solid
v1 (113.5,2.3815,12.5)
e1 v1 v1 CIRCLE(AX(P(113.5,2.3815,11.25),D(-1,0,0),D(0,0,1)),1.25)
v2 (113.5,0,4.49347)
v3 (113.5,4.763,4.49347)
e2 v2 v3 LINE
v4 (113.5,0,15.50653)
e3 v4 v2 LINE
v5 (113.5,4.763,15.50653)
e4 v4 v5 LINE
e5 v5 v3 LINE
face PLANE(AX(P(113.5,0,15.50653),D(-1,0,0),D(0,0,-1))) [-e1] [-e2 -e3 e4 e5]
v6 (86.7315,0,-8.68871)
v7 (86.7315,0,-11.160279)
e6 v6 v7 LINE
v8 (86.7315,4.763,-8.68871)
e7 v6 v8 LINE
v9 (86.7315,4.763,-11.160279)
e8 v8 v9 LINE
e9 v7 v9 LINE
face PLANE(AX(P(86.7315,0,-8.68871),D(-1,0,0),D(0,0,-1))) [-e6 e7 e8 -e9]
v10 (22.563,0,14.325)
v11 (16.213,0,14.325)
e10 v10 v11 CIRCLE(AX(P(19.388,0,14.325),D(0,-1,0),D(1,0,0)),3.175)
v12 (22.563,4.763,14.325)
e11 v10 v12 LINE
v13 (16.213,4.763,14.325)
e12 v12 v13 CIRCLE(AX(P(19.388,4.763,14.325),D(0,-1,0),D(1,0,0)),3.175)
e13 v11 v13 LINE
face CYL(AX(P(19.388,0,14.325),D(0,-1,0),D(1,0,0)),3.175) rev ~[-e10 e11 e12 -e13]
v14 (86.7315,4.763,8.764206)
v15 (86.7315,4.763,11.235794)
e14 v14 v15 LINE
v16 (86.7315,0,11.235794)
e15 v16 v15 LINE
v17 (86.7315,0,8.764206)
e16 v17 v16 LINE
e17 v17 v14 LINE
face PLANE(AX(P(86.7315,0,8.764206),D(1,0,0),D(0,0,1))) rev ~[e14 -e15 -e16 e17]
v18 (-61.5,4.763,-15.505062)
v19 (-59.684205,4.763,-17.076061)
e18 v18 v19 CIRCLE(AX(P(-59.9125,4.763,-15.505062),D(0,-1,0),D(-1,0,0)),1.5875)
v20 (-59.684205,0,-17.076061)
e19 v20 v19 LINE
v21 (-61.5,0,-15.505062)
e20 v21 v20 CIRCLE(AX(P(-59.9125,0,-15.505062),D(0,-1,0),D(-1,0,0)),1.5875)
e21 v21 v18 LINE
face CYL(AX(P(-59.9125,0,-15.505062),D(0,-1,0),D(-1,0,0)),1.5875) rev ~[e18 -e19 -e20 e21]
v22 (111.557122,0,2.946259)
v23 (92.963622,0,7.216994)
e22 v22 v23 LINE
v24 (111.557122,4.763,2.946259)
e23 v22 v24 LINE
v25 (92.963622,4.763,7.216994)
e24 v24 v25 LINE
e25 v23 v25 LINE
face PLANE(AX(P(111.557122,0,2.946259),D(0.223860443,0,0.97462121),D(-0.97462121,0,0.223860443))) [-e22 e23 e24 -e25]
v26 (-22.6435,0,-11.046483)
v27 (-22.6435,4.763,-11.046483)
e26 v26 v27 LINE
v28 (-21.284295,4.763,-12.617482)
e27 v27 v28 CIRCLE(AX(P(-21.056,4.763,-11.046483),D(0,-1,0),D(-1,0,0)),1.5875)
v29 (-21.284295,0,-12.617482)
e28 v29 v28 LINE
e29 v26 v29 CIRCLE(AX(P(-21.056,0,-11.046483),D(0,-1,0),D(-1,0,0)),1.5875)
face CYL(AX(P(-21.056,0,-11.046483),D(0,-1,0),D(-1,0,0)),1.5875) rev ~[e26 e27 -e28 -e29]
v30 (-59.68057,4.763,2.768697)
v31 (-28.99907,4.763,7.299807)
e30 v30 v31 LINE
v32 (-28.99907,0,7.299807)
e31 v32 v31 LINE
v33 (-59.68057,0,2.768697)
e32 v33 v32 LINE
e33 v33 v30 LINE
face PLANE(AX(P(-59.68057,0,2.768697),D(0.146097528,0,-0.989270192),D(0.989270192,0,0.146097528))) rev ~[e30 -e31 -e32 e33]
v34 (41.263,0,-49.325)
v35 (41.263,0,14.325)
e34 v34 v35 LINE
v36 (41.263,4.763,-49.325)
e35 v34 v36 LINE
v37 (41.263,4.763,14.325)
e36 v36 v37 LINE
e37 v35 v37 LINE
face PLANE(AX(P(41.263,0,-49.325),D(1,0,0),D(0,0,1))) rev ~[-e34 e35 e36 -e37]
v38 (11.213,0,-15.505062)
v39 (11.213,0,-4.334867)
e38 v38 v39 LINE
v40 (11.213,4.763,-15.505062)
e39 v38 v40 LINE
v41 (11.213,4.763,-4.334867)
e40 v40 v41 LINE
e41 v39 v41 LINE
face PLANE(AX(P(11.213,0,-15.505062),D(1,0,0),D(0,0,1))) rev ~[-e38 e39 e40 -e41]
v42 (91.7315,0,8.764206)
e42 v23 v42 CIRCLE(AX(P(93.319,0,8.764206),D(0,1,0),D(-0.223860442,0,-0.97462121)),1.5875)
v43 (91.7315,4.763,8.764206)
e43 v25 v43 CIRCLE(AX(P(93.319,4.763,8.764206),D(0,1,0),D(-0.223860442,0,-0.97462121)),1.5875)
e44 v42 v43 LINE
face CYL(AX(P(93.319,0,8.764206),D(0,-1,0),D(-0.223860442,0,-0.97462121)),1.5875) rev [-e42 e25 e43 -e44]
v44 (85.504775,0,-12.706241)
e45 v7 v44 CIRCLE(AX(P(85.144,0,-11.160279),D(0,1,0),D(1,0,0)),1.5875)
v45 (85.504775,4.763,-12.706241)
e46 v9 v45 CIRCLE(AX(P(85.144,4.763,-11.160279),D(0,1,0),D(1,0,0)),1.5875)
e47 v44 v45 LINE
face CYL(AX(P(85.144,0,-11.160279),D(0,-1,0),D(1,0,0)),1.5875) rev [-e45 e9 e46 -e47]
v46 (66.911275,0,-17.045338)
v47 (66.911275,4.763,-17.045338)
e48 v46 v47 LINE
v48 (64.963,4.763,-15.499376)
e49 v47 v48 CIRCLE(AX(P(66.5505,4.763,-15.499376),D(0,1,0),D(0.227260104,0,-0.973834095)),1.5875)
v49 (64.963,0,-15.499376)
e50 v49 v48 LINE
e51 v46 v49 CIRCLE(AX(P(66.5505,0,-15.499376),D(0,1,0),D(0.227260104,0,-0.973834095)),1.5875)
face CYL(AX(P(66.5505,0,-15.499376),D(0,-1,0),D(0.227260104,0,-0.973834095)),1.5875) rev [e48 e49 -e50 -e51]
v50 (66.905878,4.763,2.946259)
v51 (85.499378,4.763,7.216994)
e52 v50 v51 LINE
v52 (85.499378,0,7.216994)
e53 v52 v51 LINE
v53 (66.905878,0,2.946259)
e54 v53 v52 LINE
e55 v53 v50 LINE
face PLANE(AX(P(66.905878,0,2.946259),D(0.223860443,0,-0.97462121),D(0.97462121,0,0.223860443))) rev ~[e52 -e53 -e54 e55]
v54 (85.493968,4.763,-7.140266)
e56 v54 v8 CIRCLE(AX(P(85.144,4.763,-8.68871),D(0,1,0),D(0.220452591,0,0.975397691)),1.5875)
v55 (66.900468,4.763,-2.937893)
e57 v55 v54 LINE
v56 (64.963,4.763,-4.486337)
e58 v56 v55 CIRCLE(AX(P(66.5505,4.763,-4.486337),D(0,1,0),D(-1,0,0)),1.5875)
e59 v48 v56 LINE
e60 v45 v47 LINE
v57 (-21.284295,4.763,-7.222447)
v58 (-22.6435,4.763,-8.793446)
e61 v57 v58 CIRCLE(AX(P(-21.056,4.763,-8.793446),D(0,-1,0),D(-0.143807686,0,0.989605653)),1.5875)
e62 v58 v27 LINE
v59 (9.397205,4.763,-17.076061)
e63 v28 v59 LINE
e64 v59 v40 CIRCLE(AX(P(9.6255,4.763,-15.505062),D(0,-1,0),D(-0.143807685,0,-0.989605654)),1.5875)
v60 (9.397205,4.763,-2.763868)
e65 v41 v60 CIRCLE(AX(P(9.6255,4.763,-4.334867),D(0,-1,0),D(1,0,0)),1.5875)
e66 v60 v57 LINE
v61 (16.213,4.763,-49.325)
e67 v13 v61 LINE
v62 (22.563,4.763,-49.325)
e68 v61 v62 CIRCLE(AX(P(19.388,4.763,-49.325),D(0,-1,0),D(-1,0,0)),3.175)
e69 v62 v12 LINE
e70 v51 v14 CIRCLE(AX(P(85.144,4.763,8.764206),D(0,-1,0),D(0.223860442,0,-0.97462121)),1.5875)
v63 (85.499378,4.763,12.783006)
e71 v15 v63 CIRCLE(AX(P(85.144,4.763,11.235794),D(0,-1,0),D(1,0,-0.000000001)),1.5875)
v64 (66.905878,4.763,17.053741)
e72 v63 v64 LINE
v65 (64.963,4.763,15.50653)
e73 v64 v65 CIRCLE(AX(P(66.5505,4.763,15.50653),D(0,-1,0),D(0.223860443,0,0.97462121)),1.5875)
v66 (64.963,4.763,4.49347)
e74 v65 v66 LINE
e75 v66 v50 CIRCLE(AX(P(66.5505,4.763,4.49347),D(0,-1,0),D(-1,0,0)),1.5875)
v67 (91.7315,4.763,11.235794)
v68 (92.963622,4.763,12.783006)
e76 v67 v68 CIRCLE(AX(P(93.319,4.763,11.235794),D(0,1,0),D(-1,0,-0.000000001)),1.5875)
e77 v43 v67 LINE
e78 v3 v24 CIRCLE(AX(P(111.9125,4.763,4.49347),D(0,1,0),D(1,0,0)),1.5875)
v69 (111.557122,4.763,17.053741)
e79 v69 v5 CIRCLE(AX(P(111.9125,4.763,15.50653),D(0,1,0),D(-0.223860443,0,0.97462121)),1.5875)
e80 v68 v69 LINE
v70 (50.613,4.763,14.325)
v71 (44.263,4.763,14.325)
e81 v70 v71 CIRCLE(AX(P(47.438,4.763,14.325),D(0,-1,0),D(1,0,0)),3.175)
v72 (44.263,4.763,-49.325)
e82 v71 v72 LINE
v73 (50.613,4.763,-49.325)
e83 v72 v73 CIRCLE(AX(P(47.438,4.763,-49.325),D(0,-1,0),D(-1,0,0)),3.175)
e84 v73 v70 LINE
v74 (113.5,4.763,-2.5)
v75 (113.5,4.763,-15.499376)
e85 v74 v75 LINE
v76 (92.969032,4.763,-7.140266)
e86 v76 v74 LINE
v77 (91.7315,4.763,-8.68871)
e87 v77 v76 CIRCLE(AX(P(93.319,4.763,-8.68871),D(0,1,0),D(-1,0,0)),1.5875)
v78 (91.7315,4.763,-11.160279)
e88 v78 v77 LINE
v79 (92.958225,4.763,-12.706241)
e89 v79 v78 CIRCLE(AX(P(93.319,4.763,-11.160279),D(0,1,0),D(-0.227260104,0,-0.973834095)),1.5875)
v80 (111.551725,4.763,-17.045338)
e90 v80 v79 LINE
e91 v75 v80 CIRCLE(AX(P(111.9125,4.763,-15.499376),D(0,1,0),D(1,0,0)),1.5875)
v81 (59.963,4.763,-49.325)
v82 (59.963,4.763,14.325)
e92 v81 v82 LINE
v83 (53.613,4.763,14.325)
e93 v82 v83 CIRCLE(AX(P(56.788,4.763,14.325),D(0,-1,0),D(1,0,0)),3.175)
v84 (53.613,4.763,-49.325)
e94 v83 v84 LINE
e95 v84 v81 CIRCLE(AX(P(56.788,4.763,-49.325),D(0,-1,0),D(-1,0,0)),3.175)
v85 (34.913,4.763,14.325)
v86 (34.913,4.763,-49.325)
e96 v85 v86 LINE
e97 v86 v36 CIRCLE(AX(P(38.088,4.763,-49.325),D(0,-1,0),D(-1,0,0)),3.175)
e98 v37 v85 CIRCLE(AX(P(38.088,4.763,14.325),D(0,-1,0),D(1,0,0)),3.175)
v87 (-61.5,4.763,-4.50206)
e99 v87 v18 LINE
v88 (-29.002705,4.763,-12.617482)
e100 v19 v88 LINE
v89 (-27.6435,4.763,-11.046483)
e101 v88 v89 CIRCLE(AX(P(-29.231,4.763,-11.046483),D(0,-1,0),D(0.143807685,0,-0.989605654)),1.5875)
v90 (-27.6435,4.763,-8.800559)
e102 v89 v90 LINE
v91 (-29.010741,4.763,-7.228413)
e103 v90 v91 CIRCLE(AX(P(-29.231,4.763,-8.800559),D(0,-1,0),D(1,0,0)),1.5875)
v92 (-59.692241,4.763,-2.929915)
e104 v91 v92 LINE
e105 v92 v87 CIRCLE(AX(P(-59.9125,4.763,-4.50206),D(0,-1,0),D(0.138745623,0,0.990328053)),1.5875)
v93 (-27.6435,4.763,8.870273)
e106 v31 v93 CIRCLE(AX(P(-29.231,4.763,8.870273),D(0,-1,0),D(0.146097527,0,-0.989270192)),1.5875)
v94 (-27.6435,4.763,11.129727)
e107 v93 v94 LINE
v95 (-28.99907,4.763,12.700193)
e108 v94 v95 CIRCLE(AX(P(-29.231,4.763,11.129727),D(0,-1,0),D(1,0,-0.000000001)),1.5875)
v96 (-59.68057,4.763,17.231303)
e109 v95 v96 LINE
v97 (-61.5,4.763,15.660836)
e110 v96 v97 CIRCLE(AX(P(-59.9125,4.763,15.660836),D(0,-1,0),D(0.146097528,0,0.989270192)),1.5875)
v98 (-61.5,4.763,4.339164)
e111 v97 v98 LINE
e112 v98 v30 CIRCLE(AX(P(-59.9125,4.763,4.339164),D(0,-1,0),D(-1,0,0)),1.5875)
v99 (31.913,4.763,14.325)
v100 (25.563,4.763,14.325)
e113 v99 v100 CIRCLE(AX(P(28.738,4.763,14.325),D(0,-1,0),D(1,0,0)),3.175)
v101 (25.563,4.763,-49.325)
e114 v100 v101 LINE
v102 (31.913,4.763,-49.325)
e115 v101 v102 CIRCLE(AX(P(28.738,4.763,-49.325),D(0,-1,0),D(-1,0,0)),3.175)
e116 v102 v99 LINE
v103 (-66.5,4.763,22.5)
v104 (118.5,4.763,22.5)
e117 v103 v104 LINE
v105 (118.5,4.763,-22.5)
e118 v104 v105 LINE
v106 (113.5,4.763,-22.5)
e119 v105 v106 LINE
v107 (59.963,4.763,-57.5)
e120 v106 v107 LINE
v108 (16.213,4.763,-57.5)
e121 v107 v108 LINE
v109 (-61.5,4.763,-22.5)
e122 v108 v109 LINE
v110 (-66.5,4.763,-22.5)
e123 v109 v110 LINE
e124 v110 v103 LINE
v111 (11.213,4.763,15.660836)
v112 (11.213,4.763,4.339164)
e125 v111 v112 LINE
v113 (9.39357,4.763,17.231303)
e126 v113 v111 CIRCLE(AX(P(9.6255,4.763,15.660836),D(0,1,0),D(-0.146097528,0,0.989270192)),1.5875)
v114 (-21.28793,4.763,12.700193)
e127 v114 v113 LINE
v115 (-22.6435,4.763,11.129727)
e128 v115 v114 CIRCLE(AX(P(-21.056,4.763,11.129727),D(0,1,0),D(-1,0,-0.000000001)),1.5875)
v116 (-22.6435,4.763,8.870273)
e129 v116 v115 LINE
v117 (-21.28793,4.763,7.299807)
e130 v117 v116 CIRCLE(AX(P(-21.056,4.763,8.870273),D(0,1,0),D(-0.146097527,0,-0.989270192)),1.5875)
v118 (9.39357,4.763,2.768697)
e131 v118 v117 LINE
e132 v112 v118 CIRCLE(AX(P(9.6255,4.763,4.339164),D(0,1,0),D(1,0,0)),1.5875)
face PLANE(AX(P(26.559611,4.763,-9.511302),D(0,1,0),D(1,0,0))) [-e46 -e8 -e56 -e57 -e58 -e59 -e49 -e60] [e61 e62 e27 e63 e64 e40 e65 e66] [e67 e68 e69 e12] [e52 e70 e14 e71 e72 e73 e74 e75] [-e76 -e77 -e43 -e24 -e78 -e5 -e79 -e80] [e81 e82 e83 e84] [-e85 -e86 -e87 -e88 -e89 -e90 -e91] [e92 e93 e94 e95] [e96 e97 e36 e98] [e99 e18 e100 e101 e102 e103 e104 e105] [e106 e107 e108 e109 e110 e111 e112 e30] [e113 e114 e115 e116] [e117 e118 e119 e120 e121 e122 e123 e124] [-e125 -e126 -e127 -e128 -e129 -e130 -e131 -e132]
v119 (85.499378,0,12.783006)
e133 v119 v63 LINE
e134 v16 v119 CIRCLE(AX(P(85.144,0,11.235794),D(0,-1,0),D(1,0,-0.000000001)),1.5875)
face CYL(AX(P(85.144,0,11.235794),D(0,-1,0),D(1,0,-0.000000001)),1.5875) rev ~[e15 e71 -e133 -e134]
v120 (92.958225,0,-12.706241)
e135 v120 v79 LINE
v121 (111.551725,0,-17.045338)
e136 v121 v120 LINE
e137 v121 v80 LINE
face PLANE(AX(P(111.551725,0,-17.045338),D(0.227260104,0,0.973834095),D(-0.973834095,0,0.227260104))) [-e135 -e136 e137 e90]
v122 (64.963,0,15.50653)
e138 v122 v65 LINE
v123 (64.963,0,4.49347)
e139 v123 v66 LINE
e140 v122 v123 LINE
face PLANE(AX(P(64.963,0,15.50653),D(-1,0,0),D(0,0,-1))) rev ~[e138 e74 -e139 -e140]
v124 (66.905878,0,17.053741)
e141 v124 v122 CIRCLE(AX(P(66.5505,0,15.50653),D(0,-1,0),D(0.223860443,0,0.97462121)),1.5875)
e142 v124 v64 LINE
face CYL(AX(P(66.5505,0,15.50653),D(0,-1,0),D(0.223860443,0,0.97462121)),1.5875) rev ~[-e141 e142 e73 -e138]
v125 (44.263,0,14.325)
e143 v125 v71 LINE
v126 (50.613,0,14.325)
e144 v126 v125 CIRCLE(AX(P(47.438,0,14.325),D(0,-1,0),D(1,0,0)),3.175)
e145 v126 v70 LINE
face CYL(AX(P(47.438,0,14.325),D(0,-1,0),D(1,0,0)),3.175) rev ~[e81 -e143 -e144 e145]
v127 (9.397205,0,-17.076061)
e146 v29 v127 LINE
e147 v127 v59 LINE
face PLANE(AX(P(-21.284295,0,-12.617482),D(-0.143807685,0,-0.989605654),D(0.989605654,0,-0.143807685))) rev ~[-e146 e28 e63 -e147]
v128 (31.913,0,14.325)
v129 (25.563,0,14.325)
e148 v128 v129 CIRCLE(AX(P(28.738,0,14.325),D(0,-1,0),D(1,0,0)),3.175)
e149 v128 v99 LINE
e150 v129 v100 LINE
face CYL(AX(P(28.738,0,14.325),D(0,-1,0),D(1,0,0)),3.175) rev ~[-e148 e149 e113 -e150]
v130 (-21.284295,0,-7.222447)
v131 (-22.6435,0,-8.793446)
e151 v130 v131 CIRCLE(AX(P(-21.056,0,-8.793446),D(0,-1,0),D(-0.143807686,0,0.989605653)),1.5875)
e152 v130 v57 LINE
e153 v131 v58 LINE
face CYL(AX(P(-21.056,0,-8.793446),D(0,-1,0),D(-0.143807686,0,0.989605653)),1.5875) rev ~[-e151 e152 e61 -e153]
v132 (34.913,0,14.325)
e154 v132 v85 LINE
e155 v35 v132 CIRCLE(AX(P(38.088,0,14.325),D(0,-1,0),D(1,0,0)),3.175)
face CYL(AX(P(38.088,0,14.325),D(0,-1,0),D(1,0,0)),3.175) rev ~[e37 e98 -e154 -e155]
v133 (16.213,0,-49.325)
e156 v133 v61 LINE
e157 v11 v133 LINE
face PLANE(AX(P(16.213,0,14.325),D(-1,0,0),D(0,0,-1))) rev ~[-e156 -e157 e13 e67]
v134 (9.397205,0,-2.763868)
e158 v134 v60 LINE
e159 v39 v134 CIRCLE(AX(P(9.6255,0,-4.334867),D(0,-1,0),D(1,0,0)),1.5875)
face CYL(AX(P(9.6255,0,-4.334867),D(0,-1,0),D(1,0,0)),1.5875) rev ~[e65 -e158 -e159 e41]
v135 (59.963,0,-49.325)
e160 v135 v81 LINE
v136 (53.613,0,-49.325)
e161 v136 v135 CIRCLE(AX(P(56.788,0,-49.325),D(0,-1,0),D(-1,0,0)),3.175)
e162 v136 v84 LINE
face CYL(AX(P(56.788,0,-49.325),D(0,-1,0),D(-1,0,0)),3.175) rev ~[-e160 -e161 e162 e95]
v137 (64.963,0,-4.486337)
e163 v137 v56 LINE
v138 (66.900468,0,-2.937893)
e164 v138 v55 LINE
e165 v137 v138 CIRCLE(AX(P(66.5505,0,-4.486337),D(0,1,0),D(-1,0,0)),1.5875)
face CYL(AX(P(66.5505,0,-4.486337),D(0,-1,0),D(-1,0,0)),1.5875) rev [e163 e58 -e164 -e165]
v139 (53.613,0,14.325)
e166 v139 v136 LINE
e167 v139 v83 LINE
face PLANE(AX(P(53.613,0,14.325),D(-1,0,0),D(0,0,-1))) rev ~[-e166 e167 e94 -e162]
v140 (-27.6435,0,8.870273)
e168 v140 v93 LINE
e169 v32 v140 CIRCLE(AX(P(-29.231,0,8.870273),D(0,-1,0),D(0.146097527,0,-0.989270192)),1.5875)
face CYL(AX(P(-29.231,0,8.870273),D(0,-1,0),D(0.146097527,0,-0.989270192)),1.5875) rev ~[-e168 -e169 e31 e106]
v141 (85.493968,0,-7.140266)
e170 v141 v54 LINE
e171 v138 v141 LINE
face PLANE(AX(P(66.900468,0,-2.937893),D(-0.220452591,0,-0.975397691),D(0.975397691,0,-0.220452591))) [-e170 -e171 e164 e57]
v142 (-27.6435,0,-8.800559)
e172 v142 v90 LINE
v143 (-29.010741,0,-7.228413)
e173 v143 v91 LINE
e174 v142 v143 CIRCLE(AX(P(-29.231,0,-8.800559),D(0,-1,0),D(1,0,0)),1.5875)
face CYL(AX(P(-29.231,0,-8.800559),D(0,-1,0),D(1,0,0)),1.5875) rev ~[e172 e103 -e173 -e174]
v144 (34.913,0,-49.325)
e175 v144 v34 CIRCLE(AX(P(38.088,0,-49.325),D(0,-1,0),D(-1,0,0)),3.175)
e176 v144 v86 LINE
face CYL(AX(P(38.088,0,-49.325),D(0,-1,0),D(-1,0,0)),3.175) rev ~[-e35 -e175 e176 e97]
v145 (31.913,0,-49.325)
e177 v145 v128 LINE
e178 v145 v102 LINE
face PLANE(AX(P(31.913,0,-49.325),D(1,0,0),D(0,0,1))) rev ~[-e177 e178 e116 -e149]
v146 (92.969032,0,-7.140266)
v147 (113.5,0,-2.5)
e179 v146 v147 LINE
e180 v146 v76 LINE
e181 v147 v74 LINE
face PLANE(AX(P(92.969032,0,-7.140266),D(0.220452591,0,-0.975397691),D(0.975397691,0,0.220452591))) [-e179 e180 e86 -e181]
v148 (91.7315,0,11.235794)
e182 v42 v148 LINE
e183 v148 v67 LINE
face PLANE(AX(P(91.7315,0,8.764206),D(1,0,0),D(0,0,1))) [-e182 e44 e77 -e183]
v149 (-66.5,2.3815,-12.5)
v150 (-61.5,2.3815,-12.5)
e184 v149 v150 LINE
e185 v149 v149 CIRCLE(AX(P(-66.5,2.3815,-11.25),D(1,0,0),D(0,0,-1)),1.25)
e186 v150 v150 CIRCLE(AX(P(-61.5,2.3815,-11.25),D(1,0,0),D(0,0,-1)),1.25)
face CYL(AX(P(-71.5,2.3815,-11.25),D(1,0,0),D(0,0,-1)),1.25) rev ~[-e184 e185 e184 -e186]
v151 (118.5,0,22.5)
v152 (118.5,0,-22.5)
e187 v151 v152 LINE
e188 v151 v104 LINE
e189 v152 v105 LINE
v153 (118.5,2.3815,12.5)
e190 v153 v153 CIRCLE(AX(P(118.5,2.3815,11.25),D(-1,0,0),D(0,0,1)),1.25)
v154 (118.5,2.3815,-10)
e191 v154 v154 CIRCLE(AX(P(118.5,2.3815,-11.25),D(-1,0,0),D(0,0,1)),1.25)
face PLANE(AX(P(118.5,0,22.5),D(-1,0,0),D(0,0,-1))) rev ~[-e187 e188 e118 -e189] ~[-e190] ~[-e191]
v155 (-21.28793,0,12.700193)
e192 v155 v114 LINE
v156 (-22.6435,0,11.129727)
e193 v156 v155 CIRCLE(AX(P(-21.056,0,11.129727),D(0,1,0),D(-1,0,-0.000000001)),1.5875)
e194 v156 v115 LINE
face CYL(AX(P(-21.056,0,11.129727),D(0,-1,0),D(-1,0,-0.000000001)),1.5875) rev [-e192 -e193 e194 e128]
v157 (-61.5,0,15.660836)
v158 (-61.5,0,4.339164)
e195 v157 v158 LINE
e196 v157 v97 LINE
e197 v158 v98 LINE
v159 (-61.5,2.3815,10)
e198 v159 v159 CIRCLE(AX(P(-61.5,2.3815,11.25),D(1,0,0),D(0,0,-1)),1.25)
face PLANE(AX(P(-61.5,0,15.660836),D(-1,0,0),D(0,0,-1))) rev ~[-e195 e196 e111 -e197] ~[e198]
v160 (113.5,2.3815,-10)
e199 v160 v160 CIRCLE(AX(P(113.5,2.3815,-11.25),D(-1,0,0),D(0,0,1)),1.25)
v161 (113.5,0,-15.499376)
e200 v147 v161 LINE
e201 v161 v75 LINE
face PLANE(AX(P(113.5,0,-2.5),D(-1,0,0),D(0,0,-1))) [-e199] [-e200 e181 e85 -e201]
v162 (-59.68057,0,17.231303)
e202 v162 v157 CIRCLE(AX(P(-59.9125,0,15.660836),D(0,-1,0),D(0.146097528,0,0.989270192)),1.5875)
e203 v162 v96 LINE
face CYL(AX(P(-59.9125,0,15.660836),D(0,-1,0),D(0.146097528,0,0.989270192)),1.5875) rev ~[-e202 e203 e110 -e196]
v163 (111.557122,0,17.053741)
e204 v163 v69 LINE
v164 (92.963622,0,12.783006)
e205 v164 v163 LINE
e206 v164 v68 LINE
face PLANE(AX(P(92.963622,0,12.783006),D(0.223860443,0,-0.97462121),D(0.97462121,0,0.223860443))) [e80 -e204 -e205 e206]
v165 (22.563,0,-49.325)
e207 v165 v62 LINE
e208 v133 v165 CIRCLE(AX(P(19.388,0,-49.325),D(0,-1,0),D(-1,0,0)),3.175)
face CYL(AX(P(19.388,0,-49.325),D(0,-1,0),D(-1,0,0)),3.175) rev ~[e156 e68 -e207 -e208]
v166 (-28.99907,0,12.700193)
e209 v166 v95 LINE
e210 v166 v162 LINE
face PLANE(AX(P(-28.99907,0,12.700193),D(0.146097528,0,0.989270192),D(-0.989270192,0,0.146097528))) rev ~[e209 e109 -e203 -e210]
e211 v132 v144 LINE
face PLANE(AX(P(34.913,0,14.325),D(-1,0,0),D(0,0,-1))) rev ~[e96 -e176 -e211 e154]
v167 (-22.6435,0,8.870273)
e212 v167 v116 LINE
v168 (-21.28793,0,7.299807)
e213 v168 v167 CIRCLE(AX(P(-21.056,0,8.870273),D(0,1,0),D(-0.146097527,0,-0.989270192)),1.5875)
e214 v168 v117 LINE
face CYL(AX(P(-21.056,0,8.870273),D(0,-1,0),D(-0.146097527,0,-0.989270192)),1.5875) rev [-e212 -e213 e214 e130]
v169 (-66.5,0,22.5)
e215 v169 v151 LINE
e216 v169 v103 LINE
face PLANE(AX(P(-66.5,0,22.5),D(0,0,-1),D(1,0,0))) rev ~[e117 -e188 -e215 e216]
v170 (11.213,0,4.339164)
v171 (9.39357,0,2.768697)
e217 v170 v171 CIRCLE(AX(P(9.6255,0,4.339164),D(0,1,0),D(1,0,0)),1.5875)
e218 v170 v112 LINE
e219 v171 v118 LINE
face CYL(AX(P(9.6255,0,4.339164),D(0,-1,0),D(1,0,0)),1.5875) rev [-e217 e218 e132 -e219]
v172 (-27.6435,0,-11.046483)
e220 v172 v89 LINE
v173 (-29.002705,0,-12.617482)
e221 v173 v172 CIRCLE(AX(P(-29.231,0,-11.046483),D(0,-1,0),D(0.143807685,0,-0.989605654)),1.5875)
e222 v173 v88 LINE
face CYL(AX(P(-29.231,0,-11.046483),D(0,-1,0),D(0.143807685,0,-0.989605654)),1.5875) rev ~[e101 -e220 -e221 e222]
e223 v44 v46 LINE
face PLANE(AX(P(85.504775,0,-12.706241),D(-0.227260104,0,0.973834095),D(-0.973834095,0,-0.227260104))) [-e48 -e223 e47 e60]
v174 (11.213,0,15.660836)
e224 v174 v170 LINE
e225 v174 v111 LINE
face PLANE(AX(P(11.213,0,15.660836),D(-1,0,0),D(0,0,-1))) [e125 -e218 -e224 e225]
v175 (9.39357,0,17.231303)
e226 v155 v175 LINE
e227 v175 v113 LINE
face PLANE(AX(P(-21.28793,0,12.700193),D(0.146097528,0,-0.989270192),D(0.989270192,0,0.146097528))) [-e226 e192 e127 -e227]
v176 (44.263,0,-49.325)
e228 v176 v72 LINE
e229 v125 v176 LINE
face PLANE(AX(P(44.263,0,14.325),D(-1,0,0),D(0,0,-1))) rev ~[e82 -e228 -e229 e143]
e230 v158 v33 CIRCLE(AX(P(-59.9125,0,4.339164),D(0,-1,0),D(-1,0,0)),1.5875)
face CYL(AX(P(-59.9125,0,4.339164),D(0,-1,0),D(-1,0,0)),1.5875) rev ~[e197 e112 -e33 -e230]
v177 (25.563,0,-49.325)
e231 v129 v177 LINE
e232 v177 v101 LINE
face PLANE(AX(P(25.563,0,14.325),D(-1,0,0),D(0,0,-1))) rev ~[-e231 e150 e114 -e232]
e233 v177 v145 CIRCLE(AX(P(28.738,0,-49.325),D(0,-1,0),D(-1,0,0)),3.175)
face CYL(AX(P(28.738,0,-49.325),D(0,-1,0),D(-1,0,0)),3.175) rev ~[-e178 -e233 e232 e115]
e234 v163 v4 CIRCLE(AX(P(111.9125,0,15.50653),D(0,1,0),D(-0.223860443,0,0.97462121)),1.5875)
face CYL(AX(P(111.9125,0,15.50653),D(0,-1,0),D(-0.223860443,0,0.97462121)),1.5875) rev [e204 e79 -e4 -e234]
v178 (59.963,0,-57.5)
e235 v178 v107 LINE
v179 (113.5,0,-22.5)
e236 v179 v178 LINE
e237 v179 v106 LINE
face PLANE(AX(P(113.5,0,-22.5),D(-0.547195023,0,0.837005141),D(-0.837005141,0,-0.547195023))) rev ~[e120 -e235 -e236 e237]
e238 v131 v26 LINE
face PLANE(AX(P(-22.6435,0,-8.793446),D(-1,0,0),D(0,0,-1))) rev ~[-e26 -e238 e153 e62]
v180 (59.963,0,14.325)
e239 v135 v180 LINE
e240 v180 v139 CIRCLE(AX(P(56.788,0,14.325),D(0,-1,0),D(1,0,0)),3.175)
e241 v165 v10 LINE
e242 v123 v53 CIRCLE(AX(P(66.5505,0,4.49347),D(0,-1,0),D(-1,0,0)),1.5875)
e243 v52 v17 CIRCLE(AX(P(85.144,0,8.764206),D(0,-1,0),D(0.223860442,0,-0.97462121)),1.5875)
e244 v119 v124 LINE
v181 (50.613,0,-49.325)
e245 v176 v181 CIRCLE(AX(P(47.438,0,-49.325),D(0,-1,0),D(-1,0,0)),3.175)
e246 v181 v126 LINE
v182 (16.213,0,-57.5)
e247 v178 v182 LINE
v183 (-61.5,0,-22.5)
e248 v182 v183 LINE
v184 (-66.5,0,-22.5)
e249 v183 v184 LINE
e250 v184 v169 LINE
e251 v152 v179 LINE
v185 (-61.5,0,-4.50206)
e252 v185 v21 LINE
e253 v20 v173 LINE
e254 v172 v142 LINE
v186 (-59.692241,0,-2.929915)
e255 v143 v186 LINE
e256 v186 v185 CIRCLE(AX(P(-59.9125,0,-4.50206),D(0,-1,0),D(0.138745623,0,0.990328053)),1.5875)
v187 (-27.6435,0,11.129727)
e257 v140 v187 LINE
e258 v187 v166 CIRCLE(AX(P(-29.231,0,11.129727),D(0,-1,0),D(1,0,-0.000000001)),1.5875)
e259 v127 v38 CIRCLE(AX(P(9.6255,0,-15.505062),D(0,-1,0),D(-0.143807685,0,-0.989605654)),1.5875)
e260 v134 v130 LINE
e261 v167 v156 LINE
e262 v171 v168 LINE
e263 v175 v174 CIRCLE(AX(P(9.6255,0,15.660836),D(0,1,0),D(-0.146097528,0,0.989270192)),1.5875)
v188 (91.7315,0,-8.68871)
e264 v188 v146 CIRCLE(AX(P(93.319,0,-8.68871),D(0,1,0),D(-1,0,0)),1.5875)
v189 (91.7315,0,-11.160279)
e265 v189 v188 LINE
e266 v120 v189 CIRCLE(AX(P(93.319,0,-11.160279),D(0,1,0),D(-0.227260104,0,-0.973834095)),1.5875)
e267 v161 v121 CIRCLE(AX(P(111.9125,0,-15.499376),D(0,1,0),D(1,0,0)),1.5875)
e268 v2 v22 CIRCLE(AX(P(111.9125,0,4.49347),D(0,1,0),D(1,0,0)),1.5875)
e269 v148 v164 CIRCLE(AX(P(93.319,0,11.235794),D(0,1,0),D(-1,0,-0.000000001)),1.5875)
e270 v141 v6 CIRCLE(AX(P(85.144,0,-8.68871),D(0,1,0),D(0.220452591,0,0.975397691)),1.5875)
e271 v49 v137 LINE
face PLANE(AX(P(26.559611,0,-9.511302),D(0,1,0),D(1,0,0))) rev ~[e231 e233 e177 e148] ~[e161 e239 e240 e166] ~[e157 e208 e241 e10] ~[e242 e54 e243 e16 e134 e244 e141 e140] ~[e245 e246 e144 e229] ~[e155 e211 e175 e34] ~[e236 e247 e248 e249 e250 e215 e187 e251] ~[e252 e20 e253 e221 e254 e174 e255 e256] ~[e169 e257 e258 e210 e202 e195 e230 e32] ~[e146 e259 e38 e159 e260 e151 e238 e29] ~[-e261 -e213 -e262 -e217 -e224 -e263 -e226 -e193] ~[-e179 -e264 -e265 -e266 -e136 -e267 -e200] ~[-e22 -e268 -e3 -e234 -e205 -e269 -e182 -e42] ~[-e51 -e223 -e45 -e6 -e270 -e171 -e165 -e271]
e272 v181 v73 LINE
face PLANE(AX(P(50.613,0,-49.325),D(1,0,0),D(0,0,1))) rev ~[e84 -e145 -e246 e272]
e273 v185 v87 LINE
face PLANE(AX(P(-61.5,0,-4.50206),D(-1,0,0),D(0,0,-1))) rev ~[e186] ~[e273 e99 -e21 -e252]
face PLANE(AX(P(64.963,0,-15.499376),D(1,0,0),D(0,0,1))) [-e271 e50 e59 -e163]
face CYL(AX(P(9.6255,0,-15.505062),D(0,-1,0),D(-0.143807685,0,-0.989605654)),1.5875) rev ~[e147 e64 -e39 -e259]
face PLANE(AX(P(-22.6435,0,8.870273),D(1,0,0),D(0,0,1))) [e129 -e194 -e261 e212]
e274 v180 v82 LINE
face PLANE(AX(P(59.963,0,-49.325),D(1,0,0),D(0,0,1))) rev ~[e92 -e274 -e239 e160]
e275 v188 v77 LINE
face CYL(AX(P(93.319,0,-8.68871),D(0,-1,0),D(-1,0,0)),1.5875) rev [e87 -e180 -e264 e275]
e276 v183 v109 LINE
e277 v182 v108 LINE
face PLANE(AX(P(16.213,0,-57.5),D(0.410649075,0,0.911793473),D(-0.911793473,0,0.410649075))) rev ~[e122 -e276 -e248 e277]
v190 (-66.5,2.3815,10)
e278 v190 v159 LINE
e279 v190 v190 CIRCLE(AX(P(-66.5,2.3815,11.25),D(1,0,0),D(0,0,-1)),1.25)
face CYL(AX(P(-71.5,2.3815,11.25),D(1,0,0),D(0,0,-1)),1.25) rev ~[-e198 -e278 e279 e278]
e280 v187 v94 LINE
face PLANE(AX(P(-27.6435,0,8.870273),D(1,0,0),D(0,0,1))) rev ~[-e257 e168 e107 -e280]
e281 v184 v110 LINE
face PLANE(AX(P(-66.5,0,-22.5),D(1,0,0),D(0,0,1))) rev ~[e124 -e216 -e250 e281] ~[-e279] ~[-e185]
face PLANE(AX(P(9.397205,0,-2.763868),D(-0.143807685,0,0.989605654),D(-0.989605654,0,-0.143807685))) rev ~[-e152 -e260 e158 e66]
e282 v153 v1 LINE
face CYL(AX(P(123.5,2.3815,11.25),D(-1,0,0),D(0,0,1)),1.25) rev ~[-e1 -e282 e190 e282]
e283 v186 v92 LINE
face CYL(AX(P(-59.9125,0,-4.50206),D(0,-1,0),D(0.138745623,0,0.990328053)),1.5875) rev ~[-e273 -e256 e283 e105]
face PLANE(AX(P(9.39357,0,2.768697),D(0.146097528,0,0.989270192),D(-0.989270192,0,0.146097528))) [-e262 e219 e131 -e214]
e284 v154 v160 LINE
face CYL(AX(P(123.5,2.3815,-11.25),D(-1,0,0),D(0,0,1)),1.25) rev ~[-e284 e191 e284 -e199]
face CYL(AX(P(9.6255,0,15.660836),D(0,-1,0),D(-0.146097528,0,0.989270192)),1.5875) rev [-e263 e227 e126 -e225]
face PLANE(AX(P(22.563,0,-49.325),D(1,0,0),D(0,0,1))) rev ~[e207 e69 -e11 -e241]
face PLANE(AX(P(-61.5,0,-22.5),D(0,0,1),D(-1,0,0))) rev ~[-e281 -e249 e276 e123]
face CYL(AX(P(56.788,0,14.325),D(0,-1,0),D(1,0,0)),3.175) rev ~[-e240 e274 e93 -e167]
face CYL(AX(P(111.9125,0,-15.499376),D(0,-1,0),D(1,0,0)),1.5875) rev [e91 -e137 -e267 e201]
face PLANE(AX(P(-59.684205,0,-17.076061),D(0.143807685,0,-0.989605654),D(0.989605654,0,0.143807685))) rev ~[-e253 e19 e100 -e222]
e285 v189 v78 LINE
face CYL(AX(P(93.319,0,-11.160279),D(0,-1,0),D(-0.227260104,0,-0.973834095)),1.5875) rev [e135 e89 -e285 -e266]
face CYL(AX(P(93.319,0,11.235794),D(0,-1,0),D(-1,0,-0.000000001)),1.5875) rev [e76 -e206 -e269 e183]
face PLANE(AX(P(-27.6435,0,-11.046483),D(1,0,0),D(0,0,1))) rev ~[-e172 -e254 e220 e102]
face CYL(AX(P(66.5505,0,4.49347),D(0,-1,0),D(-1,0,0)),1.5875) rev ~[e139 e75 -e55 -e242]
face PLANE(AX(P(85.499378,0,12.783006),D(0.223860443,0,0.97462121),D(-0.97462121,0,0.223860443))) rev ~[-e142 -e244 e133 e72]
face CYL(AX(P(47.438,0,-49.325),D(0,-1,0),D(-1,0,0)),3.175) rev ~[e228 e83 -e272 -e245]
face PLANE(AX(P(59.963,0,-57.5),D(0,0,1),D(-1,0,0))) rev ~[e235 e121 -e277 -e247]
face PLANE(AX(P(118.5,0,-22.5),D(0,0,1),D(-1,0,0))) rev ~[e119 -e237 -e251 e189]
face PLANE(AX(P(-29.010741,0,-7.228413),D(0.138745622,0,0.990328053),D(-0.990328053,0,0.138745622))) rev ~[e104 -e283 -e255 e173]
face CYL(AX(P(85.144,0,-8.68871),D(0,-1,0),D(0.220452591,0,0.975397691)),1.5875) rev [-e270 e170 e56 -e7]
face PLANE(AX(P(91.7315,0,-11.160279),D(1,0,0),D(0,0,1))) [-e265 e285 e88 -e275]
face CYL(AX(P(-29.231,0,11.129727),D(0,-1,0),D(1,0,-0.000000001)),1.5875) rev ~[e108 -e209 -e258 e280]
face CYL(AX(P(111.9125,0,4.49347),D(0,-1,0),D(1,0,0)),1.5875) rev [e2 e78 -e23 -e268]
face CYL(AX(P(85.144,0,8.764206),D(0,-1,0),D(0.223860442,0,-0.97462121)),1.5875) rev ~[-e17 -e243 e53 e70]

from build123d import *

# Parameters (mm, degrees)
BOSS_EXTRUDE1_DEPTH             = 4.763
TAP_DRILL_FOR_M3X0_5_TAP1_D     = 2.5
TAP_DRILL_FOR_M3X0_5_TAP1_DEPTH = 5
TAP_DRILL_FOR_M3X0_5_TAP2_D     = 2.5
TAP_DRILL_FOR_M3X0_5_TAP2_DEPTH = 5


with BuildPart() as part:
    # Sketch2 → Boss-Extrude1 (new body)
    with BuildSketch(Plane(origin=(0, 0, 0), x_dir=(1, 0, 0), z_dir=(0, 1, 0))):
        Polygon((-66.5, -22.5), (118.5, -22.5), (118.5, 22.5), (113.5, 22.5), (59.963, 57.5), (16.213, 57.5), (-61.5, 22.5), (-66.5, 22.5), align=None)
        with BuildLine():
            Line((50.613, 49.325), (50.613, -14.325))
            ThreePointArc((50.613, -14.325), (47.438, -17.5), (44.263, -14.325))
            Line((44.263, -14.325), (44.263, 49.325))
            ThreePointArc((44.263, 49.325), (47.438, 52.5), (50.613, 49.325))
        make_face(mode=Mode.SUBTRACT)
        with BuildLine():
            Line((41.263, 49.325), (41.263, -14.325))
            ThreePointArc((41.263, -14.325), (38.088, -17.5), (34.913, -14.325))
            Line((34.913, -14.325), (34.913, 49.325))
            ThreePointArc((34.913, 49.325), (38.088, 52.5), (41.263, 49.325))
        make_face(mode=Mode.SUBTRACT)
        with BuildLine():
            Line((31.913, 49.325), (31.913, -14.325))
            ThreePointArc((31.913, -14.325), (28.738, -17.5), (25.563, -14.325))
            Line((25.563, -14.325), (25.563, 49.325))
            ThreePointArc((25.563, 49.325), (28.738, 52.5), (31.913, 49.325))
        make_face(mode=Mode.SUBTRACT)
        with BuildLine():
            Line((59.963, 49.325), (59.963, -14.325))
            ThreePointArc((59.963, -14.325), (56.788, -17.5), (53.613, -14.325))
            Line((53.613, -14.325), (53.613, 49.325))
            ThreePointArc((53.613, 49.325), (56.788, 52.5), (59.963, 49.325))
        make_face(mode=Mode.SUBTRACT)
        with BuildLine():
            Line((22.563, 49.325), (22.563, -14.325))
            ThreePointArc((22.563, -14.325), (19.388, -17.5), (16.213, -14.325))
            Line((16.213, -14.325), (16.213, 49.325))
            ThreePointArc((16.213, 49.325), (19.388, 52.5), (22.563, 49.325))
        make_face(mode=Mode.SUBTRACT)
        with BuildLine():
            Line((-59.6842053, 17.076061462), (-29.0027053, 12.617481945))
            ThreePointArc((-29.0027053, 12.617481945), (-28.030463852, 12.085169259), (-27.6435, 11.04648297))
            Line((-27.6435, 11.04648297), (-27.6435, 8.800559076))
            ThreePointArc((-27.6435, 8.800559076), (-28.033123359, 7.758806801), (-29.010741325, 7.228413292))
            Line((-29.010741325, 7.228413292), (-59.692241325, 2.929914643))
            ThreePointArc((-59.692241325, 2.929914643), (-60.954252275, 3.304183785), (-61.5, 4.502060427))
            Line((-61.5, 4.502060427), (-61.5, 15.505062487))
            ThreePointArc((-61.5, 15.505062487), (-60.951186289, 16.705598635), (-59.6842053, 17.076061462))
        make_face(mode=Mode.SUBTRACT)
        with BuildLine():
            Line((-59.680570174, -2.76869727), (-28.999070174, -7.299806511))
            ThreePointArc((-28.999070174, -7.299806511), (-28.029262747, -7.832976538), (-27.6435, -8.87027294))
            Line((-27.6435, -8.87027294), (-27.6435, -11.12972706))
            ThreePointArc((-27.6435, -11.12972706), (-28.029262747, -12.167023462), (-28.999070174, -12.700193489))
            Line((-28.999070174, -12.700193489), (-59.680570174, -17.23130273))
            ThreePointArc((-59.680570174, -17.23130273), (-60.949796402, -16.862573553), (-61.5, -15.6608363))
            Line((-61.5, -15.6608363), (-61.5, -4.3391637))
            ThreePointArc((-61.5, -4.3391637), (-60.949796402, -3.137426447), (-59.680570174, -2.76869727))
        make_face(mode=Mode.SUBTRACT)
        with BuildLine():
            Line((-22.6435, -8.87027294), (-22.6435, -11.12972706))
            ThreePointArc((-22.6435, -11.12972706), (-22.257737253, -12.167023462), (-21.287929826, -12.700193489))
            Line((-21.287929826, -12.700193489), (9.393570174, -17.23130273))
            ThreePointArc((9.393570174, -17.23130273), (10.662796402, -16.862573553), (11.213, -15.6608363))
            Line((11.213, -15.6608363), (11.213, -4.3391637))
            ThreePointArc((11.213, -4.3391637), (10.662796402, -3.137426447), (9.393570174, -2.76869727))
            Line((9.393570174, -2.76869727), (-21.287929826, -7.299806511))
            ThreePointArc((-21.287929826, -7.299806511), (-22.257737253, -7.832976538), (-22.6435, -8.87027294))
        make_face(mode=Mode.SUBTRACT)
        with BuildLine():
            Line((-22.6435, 8.79344646), (-22.6435, 11.04648297))
            ThreePointArc((-22.6435, 11.04648297), (-22.256536148, 12.085169259), (-21.2842947, 12.617481945))
            Line((-21.2842947, 12.617481945), (9.3972053, 17.076061462))
            ThreePointArc((9.3972053, 17.076061462), (10.664186289, 16.705598635), (11.213, 15.505062487))
            Line((11.213, 15.505062487), (11.213, 4.334866943))
            ThreePointArc((11.213, 4.334866943), (10.664186289, 3.134330795), (9.3972053, 2.763867968))
            Line((9.3972053, 2.763867968), (-21.2842947, 7.222447484))
            ThreePointArc((-21.2842947, 7.222447484), (-22.256536148, 7.754760171), (-22.6435, 8.79344646))
        make_face(mode=Mode.SUBTRACT)
        with BuildLine():
            Line((64.963, 15.499376461), (64.963, 4.486336964))
            ThreePointArc((64.963, 4.486336964), (65.559394235, 3.246229867), (66.900468488, 2.93789313))
            Line((66.900468488, 2.93789313), (85.493968488, 7.140266464))
            ThreePointArc((85.493968488, 7.140266464), (86.384107097, 7.697604533), (86.7315, 8.688710298))
            Line((86.7315, 8.688710298), (86.7315, 11.160279322))
            ThreePointArc((86.7315, 11.160279322), (86.387560859, 12.147048109), (85.504775415, 12.706240948))
            Line((85.504775415, 12.706240948), (66.911275415, 17.045338087))
            ThreePointArc((66.911275415, 17.045338087), (65.563731213, 16.74293732), (64.963, 15.499376461))
        make_face(mode=Mode.SUBTRACT)
        with BuildLine():
            Line((91.7315, 11.160279322), (91.7315, 8.688710298))
            ThreePointArc((91.7315, 8.688710298), (92.078892903, 7.697604533), (92.969031512, 7.140266464))
            Line((92.969031512, 7.140266464), (113.5, 2.5))
            Line((113.5, 2.5), (113.5, 15.499376461))
            ThreePointArc((113.5, 15.499376461), (112.899268787, 16.74293732), (111.551724585, 17.045338087))
            Line((111.551724585, 17.045338087), (92.958224585, 12.706240948))
            ThreePointArc((92.958224585, 12.706240948), (92.075439141, 12.147048109), (91.7315, 11.160279322))
        make_face(mode=Mode.SUBTRACT)
        with BuildLine():
            Line((86.7315, -8.764205555), (86.7315, -11.235794445))
            ThreePointArc((86.7315, -11.235794445), (86.385837257, -12.22473149), (85.499378453, -12.783005615))
            Line((85.499378453, -12.783005615), (66.905878453, -17.053740852))
            ThreePointArc((66.905878453, -17.053740852), (65.561562955, -16.748366938), (64.963, -15.506529682))
            Line((64.963, -15.506529682), (64.963, -4.493470318))
            ThreePointArc((64.963, -4.493470318), (65.561562955, -3.251633062), (66.905878453, -2.946259148))
            Line((66.905878453, -2.946259148), (85.499378453, -7.216994385))
            ThreePointArc((85.499378453, -7.216994385), (86.385837257, -7.77526851), (86.7315, -8.764205555))
        make_face(mode=Mode.SUBTRACT)
        with BuildLine():
            Line((91.7315, -8.764205555), (91.7315, -11.235794445))
            ThreePointArc((91.7315, -11.235794445), (92.077162743, -12.22473149), (92.963621547, -12.783005615))
            Line((92.963621547, -12.783005615), (111.557121547, -17.053740852))
            ThreePointArc((111.557121547, -17.053740852), (112.901437045, -16.748366938), (113.5, -15.506529682))
            Line((113.5, -15.506529682), (113.5, -4.493470318))
            ThreePointArc((113.5, -4.493470318), (112.901437045, -3.251633062), (111.557121547, -2.946259148))
            Line((111.557121547, -2.946259148), (92.963621547, -7.216994385))
            ThreePointArc((92.963621547, -7.216994385), (92.077162743, -7.77526851), (91.7315, -8.764205555))
        make_face(mode=Mode.SUBTRACT)
    extrude(amount=BOSS_EXTRUDE1_DEPTH)

    # Tap Drill for M3x0.5 Tap1
    with Locations(Plane(origin=(118.5, 0, 0), x_dir=(0, 0, -1), z_dir=(1, 0, 0))):
        with Locations((-11.25, 2.3815), (11.25, 2.3815)):
            Hole(TAP_DRILL_FOR_M3X0_5_TAP1_D / 2, depth=TAP_DRILL_FOR_M3X0_5_TAP1_DEPTH)

    # Tap Drill for M3x0.5 Tap2
    with Locations(Plane.ZY.offset(66.5)):
        with Locations((11.25, 2.3815), (-11.25, 2.3815)):
            Hole(TAP_DRILL_FOR_M3X0_5_TAP2_D / 2, depth=TAP_DRILL_FOR_M3X0_5_TAP2_DEPTH)


solid = part.part
